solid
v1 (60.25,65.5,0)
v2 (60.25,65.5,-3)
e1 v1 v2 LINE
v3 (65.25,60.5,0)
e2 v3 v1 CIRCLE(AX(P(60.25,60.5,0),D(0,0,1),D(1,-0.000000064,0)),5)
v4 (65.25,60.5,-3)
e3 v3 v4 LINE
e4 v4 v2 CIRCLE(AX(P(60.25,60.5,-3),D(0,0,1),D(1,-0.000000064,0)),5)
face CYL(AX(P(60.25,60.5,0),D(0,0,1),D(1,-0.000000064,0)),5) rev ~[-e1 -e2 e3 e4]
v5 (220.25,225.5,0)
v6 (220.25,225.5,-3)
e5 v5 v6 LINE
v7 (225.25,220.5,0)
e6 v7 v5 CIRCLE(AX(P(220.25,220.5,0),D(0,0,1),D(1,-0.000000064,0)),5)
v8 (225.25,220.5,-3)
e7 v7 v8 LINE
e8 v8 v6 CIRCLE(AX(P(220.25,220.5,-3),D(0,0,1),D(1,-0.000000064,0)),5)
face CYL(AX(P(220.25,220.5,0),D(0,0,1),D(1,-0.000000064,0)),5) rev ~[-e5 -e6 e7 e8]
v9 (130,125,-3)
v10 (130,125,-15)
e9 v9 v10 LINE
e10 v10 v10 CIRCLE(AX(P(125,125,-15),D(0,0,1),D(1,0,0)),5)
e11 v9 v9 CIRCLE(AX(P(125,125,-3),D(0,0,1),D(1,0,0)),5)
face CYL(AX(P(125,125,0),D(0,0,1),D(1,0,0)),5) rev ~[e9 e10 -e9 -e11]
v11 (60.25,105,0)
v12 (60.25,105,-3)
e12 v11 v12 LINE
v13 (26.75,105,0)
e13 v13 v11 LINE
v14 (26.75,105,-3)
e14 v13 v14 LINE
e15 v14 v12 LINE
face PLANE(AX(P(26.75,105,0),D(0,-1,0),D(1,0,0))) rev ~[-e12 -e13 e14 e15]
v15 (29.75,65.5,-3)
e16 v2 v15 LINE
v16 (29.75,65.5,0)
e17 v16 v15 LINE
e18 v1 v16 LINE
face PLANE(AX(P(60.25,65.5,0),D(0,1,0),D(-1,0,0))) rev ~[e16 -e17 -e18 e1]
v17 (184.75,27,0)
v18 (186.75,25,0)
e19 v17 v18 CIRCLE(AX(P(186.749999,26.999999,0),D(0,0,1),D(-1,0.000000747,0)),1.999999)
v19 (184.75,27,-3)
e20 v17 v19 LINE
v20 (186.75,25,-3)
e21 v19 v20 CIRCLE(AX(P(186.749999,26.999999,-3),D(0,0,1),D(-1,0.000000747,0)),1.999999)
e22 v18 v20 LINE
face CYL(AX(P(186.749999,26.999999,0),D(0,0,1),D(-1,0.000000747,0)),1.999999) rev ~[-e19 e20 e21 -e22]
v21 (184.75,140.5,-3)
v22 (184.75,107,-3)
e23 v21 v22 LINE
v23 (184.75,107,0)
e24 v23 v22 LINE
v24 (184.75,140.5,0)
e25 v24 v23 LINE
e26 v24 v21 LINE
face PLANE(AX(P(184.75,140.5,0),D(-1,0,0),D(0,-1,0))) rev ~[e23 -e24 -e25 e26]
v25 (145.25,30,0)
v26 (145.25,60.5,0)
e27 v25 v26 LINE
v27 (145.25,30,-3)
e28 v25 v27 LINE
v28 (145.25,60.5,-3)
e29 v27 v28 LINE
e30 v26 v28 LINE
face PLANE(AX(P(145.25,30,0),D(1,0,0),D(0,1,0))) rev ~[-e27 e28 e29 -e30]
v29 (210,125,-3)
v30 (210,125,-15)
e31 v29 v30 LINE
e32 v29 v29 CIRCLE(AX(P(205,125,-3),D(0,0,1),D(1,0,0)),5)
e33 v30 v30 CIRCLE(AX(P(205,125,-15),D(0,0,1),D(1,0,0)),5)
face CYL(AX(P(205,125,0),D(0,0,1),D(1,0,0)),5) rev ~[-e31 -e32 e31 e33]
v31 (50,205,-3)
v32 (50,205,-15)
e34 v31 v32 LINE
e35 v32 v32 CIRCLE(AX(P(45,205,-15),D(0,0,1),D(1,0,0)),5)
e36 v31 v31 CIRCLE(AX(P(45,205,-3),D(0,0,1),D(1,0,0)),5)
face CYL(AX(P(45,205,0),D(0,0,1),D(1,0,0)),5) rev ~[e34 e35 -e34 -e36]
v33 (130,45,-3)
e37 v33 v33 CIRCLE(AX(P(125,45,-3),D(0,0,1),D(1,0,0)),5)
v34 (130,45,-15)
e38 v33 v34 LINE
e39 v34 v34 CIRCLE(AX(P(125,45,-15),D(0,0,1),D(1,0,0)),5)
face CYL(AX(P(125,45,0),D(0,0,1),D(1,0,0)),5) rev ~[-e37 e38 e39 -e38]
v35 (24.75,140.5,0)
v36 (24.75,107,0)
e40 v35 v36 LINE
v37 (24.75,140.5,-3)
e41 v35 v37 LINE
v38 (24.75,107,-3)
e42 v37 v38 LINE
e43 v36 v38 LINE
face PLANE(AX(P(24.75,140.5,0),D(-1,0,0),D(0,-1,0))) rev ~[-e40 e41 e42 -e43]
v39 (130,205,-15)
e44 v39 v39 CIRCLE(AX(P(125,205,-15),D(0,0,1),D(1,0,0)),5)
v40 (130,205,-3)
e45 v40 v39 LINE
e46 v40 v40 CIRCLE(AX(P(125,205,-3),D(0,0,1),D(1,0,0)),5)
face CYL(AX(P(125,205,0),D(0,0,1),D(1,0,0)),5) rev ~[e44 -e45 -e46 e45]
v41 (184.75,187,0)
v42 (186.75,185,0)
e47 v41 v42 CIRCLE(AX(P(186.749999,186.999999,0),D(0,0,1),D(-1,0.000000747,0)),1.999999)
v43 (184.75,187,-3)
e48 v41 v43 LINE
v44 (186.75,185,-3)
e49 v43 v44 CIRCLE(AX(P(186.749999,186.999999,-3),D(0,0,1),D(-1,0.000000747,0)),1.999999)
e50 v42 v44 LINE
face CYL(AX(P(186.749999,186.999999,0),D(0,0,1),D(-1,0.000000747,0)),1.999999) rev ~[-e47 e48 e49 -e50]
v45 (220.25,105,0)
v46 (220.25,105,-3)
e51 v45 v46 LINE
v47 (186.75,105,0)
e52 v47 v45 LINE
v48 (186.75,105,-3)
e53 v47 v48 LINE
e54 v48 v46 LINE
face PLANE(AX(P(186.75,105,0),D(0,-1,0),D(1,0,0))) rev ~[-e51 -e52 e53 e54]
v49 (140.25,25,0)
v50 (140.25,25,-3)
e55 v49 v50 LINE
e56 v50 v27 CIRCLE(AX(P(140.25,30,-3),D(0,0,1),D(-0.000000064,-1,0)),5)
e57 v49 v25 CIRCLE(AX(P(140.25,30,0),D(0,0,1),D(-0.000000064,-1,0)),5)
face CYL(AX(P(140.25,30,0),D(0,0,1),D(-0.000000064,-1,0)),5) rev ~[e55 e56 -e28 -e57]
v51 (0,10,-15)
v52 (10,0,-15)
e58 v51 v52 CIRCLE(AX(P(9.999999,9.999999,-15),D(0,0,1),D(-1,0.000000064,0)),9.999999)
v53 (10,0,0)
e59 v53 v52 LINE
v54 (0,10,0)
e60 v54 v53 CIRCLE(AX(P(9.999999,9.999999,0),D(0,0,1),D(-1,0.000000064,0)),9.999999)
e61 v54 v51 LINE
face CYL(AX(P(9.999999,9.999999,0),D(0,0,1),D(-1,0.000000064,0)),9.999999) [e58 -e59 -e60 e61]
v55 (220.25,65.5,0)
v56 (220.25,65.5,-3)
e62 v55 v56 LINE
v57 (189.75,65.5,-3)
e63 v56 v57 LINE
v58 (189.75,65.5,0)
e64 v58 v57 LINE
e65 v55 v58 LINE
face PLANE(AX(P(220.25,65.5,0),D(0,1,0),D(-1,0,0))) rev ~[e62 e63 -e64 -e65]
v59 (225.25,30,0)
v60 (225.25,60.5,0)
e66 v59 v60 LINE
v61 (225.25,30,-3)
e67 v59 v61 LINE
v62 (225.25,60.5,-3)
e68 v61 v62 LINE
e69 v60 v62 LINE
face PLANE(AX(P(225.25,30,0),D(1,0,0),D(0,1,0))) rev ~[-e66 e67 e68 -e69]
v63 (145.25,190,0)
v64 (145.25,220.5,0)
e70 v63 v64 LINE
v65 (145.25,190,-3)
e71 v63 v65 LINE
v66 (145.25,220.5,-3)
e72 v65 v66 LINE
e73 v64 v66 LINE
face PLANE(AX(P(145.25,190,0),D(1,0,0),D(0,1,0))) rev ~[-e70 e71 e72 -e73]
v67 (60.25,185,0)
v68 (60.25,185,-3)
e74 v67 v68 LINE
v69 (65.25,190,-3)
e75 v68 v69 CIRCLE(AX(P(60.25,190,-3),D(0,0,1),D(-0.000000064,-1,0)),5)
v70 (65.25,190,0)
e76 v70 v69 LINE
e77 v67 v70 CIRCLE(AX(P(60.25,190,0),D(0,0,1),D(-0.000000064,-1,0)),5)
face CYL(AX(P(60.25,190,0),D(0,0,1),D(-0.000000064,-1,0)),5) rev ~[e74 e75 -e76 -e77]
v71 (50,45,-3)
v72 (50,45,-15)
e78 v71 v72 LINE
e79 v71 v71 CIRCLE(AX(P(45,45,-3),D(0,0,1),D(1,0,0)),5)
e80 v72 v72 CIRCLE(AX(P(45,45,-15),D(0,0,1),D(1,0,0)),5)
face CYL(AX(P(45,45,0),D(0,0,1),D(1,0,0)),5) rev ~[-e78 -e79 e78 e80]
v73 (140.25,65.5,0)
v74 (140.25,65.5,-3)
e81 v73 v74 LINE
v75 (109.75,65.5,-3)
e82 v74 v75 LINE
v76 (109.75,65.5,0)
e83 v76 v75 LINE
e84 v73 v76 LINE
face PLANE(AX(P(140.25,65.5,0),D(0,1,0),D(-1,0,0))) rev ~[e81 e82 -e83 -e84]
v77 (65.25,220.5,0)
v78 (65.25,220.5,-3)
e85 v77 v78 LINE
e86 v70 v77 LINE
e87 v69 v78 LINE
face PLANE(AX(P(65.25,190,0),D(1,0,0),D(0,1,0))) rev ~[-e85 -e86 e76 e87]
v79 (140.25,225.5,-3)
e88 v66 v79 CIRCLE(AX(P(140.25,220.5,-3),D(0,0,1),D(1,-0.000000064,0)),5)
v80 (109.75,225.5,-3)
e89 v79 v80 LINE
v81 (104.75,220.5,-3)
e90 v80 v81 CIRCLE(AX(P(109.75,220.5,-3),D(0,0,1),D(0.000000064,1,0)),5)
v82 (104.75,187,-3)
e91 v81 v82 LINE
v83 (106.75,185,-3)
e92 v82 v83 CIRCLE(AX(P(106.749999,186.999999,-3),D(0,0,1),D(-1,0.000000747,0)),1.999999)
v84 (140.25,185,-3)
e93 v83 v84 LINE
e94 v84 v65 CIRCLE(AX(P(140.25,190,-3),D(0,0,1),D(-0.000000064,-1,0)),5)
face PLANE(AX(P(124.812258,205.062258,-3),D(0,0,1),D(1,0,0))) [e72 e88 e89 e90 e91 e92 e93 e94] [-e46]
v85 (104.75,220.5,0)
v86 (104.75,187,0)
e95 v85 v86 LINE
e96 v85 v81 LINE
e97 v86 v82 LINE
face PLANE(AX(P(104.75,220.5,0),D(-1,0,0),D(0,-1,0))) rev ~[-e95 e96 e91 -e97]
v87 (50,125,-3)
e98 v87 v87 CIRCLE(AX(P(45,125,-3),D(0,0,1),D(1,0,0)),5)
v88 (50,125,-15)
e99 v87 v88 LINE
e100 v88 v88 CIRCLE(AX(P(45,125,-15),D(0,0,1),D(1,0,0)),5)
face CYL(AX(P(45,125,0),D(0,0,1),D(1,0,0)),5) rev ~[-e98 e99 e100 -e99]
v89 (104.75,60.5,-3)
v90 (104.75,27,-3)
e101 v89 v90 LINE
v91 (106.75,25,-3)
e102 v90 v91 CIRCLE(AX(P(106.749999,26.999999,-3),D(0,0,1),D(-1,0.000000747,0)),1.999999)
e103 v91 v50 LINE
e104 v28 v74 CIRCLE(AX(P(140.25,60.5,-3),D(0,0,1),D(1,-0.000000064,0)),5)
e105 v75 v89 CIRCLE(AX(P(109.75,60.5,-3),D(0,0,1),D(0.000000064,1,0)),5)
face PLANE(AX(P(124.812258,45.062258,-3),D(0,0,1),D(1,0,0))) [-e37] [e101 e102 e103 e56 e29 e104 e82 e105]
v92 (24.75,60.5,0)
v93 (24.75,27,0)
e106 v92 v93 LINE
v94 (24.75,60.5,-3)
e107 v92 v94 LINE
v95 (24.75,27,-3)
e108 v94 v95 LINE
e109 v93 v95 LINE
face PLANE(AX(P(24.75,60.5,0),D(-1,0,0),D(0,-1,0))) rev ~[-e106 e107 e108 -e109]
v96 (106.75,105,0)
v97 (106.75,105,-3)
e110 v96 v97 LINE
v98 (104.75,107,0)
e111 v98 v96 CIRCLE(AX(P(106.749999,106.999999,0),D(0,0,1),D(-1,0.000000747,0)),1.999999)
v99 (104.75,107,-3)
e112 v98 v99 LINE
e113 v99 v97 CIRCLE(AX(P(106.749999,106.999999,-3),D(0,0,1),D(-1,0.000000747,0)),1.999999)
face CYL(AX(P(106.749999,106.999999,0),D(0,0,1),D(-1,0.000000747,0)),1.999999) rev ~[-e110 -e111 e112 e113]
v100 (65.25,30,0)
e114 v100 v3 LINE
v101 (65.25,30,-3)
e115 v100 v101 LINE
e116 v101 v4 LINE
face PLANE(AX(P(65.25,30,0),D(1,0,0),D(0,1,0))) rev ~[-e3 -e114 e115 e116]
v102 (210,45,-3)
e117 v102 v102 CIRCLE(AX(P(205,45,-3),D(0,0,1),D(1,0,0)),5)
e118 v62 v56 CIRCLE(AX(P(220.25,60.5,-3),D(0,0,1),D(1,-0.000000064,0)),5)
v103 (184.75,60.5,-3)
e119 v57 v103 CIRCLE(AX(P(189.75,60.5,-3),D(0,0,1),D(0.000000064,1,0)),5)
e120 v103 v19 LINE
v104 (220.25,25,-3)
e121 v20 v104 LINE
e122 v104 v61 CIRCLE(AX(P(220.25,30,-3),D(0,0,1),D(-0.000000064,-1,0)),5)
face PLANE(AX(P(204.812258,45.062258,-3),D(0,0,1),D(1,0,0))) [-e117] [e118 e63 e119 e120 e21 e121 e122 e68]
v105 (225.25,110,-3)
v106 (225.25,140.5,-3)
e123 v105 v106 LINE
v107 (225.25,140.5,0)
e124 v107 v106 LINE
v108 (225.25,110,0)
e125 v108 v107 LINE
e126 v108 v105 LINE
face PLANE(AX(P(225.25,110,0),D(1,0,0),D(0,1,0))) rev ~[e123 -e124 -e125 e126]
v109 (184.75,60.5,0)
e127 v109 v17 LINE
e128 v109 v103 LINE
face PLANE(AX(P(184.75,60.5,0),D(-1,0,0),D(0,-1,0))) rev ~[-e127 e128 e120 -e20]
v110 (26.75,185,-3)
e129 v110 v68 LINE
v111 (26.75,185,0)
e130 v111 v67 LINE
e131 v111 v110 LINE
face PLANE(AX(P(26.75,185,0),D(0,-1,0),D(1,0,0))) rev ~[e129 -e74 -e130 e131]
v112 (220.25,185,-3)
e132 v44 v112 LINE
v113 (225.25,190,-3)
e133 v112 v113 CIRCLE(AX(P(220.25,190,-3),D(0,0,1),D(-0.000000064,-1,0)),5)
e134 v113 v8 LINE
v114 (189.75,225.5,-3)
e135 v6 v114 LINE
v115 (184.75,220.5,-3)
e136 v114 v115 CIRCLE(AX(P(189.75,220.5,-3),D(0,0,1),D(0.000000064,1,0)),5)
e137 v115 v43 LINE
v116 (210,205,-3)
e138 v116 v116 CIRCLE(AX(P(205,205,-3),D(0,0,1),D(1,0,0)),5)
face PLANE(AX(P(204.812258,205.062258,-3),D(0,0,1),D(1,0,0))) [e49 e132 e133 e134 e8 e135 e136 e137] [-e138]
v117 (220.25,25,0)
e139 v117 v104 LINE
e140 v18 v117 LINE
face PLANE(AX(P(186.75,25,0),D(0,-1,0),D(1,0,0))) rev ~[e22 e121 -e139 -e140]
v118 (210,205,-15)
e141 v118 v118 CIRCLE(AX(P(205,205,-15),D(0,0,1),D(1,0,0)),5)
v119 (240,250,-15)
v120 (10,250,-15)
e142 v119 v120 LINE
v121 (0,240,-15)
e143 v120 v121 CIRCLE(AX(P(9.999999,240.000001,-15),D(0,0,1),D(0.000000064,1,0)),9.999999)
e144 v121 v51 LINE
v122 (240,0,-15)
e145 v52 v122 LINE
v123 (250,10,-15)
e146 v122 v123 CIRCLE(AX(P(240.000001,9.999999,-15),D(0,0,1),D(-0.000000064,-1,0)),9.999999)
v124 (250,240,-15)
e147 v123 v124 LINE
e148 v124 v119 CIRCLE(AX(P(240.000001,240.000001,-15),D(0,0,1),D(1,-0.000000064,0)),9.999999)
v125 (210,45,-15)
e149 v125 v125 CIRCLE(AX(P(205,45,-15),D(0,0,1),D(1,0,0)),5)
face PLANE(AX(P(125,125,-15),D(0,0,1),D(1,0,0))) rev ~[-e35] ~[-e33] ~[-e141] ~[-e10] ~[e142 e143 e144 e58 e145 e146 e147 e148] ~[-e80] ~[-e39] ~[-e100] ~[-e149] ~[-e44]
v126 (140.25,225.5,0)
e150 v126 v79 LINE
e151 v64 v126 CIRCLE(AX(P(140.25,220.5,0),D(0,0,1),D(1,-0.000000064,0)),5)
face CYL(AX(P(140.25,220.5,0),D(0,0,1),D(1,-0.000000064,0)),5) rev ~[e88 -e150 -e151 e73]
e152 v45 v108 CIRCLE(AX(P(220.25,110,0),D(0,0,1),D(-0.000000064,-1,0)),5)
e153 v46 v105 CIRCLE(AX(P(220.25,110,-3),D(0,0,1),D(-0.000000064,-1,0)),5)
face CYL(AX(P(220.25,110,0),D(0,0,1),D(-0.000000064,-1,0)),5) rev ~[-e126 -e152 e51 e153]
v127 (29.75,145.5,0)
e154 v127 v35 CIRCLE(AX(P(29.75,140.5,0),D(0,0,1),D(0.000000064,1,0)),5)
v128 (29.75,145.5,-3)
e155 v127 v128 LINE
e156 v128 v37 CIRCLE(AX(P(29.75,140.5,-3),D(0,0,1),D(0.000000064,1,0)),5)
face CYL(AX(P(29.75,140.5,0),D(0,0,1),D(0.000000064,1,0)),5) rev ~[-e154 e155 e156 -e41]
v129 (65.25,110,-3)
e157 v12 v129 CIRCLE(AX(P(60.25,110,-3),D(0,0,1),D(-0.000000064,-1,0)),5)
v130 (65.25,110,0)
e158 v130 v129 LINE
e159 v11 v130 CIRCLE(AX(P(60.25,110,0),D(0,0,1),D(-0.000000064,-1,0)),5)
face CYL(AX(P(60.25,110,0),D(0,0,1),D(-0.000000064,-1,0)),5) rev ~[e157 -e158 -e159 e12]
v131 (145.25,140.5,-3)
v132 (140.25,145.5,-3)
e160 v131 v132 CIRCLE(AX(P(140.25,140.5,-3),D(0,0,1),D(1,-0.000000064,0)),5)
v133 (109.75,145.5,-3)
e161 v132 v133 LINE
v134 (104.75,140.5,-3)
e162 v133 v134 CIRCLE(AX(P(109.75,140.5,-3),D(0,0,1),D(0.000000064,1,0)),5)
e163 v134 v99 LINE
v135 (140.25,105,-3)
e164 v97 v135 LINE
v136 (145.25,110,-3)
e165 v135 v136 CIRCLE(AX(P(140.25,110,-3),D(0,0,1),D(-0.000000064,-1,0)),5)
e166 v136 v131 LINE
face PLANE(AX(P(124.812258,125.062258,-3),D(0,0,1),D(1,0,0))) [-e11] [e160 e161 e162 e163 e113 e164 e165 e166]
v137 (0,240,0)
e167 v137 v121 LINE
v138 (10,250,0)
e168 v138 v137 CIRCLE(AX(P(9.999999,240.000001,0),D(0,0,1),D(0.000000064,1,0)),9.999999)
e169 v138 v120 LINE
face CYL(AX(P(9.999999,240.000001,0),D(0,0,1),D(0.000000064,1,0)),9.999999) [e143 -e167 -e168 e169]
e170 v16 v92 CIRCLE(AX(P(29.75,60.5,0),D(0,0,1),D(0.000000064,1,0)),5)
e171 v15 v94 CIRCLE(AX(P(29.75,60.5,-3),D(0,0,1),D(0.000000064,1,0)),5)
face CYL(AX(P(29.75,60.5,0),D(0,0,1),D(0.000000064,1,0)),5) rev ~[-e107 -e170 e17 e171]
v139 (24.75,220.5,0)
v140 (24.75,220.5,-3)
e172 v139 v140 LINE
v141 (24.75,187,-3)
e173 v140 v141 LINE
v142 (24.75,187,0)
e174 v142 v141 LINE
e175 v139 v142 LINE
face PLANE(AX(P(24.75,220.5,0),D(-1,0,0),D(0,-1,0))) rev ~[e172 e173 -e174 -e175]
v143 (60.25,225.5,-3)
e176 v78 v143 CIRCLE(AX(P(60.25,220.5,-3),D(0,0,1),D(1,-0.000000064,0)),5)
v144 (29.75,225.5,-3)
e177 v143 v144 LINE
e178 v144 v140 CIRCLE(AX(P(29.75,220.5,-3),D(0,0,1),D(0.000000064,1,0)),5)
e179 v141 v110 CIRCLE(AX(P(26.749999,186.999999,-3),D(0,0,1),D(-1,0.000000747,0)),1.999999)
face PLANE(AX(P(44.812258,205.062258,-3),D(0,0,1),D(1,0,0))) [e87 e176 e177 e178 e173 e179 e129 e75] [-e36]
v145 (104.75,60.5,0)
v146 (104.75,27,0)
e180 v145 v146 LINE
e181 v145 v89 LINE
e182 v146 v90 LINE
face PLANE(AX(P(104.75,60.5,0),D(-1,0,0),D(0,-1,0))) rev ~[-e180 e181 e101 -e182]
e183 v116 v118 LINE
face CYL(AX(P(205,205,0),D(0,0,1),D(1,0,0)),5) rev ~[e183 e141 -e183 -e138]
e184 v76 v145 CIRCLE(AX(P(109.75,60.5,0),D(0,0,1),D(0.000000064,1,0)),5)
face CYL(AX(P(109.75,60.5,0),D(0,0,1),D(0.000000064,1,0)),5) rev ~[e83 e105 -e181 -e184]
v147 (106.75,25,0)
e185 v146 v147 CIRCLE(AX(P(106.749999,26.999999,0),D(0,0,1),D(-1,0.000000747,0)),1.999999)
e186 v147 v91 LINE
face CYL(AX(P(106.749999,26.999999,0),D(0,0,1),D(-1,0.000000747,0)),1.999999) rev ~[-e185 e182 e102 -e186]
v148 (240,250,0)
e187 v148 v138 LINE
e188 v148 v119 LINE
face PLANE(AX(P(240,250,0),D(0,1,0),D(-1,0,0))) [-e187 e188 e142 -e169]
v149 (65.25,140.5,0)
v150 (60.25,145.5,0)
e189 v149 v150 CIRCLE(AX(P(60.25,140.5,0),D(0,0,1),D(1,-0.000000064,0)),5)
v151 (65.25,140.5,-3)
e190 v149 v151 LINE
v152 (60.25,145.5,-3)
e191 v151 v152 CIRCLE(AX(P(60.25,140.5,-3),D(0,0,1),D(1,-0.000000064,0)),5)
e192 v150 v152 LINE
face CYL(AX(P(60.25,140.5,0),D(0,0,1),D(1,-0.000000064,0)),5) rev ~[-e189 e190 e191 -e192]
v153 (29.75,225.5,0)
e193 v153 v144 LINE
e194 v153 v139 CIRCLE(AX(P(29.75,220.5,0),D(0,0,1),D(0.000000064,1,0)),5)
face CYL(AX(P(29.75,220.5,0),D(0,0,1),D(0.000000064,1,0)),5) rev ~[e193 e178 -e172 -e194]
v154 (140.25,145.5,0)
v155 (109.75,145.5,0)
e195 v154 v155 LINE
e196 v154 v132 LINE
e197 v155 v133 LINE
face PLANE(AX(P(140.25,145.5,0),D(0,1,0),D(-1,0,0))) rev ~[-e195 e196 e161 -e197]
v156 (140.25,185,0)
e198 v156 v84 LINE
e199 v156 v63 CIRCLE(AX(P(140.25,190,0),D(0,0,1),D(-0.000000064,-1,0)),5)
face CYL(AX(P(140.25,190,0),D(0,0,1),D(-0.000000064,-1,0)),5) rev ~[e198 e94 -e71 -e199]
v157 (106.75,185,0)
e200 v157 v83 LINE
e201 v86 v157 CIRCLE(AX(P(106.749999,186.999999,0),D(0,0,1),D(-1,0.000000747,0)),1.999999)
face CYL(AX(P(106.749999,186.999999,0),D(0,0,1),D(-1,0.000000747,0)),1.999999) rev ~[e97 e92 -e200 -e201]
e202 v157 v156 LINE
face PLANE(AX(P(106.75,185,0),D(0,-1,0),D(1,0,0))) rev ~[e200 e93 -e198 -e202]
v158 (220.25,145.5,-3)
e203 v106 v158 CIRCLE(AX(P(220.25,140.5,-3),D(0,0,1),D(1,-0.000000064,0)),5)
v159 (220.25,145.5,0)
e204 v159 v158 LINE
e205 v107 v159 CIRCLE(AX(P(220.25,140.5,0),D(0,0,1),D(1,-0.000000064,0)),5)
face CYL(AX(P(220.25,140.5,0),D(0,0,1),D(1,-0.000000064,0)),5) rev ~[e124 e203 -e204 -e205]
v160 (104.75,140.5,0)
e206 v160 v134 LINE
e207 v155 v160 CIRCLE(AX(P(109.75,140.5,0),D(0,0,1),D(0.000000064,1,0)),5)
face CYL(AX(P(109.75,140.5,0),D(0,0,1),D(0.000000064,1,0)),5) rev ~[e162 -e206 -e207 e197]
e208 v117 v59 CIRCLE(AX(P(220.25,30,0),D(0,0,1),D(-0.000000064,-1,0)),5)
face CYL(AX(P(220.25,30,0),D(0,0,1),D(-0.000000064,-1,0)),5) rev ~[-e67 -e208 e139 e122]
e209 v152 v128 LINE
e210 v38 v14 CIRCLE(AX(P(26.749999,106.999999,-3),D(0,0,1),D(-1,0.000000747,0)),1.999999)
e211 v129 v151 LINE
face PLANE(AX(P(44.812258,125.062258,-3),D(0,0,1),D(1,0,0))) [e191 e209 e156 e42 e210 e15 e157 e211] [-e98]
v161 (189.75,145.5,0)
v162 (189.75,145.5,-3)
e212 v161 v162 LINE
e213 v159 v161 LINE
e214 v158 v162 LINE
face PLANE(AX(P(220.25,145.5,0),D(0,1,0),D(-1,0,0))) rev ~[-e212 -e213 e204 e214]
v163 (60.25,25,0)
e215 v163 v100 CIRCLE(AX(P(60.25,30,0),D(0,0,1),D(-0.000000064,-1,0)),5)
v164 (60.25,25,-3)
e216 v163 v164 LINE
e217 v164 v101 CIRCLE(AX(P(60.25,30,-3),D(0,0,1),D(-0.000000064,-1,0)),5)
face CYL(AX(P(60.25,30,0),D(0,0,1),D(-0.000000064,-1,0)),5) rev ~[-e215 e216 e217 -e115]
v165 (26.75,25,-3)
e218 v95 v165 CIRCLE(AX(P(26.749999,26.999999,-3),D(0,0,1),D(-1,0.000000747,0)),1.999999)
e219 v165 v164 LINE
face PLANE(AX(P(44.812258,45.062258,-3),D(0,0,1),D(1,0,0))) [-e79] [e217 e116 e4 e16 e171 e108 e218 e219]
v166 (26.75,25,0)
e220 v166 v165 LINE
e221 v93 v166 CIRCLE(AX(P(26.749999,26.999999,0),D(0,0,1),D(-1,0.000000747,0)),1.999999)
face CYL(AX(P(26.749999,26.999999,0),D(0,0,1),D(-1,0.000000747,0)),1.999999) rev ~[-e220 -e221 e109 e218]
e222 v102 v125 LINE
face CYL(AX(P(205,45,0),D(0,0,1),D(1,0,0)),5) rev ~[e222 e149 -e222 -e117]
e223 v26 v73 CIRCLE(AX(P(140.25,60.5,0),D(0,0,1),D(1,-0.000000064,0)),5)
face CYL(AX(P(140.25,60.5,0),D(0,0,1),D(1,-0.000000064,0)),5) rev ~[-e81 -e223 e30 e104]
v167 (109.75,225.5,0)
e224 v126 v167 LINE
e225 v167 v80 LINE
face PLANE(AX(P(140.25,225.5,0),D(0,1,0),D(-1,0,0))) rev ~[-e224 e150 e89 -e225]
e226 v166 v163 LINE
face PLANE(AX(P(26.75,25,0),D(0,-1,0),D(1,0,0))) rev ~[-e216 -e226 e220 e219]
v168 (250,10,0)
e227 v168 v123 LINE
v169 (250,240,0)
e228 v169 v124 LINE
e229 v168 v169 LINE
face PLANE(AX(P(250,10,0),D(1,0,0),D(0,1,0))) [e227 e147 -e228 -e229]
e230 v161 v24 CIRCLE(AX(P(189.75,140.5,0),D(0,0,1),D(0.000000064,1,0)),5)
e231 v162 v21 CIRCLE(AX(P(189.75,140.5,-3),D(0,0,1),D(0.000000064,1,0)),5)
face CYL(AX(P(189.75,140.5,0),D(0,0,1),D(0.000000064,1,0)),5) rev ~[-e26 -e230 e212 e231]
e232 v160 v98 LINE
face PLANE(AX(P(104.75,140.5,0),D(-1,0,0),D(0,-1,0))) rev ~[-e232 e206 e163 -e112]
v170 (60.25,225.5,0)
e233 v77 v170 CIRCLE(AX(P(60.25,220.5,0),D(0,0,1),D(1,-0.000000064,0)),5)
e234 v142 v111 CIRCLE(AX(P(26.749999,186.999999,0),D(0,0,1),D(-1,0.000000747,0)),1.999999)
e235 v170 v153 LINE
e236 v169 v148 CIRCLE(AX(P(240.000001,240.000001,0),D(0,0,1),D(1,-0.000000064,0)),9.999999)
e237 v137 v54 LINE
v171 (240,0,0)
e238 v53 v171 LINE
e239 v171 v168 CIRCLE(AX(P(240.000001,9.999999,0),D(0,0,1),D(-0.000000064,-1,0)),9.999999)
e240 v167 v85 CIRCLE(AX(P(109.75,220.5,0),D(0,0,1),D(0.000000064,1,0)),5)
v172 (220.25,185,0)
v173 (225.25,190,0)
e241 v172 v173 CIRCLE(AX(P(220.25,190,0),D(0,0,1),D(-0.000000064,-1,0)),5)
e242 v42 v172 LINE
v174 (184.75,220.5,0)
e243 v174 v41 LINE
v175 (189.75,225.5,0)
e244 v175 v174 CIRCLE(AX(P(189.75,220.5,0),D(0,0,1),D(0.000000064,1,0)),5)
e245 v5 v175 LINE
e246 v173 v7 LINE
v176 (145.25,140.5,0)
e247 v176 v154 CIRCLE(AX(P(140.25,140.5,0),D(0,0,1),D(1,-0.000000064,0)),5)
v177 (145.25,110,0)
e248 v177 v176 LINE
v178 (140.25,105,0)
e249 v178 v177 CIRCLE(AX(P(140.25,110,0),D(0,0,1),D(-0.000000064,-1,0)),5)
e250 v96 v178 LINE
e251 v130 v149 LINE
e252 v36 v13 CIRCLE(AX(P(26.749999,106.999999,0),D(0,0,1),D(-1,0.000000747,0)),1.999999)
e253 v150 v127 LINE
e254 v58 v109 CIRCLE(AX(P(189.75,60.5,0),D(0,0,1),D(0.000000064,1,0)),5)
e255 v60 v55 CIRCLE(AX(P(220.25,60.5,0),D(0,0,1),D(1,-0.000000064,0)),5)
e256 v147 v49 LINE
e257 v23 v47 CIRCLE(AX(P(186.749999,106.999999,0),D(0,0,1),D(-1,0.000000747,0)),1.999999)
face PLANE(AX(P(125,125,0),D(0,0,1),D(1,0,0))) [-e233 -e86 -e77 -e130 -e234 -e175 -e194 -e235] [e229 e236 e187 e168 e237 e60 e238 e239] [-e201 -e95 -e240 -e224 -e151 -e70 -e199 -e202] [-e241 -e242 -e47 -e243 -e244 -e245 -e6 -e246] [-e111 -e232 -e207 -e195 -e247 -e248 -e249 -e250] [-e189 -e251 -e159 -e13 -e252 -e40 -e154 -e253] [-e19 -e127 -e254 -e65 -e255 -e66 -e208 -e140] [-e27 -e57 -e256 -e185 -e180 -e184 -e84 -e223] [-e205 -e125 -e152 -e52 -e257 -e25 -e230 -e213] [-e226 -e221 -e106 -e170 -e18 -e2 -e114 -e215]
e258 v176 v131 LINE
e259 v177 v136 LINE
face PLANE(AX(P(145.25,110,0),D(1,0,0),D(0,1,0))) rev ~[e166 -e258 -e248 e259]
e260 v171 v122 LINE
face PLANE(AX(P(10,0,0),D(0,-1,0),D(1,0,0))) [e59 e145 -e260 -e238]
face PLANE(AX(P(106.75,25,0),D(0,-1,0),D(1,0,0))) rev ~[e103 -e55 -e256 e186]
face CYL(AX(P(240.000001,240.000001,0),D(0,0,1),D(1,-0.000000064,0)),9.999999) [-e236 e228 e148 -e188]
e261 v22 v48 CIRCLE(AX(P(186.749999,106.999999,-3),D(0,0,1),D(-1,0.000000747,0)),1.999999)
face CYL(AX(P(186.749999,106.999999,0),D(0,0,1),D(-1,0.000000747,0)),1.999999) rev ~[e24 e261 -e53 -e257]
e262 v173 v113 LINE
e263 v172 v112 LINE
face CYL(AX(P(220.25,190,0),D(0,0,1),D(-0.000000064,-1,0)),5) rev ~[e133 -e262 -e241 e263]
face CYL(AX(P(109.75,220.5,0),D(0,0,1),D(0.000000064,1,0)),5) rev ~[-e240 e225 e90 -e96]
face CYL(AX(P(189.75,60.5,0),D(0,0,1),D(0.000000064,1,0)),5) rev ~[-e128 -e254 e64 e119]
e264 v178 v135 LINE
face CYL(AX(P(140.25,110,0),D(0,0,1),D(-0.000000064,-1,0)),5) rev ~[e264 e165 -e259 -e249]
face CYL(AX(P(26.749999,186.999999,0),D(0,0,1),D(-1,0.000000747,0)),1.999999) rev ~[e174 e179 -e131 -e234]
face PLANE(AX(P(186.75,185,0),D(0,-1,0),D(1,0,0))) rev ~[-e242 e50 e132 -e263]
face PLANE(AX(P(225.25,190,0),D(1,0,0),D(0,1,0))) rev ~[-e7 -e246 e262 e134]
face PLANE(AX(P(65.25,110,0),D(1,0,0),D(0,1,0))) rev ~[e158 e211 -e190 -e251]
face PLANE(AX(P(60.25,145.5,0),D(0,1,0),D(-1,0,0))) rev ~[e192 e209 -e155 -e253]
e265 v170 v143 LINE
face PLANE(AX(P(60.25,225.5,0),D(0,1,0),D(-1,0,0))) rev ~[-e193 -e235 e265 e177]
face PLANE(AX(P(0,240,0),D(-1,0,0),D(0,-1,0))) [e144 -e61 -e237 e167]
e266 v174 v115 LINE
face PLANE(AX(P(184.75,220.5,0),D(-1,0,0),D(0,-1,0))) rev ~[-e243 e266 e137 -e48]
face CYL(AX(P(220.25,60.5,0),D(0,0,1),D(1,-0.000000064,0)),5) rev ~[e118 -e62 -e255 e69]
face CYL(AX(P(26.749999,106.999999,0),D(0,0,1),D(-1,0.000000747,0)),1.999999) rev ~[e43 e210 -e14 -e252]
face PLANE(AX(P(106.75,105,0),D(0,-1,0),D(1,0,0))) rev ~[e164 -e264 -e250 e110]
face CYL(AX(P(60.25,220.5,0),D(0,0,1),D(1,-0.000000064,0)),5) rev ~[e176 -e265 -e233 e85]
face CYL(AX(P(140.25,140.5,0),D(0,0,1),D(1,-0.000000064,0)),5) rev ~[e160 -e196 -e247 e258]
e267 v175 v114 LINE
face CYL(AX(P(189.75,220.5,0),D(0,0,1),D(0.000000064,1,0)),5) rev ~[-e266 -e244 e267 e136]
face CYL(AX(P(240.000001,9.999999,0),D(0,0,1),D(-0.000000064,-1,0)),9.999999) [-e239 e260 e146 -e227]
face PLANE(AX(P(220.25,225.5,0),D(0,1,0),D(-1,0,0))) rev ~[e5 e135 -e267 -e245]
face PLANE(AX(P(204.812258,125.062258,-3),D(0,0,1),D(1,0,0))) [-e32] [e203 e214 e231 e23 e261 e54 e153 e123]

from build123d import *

# Parameters (mm, degrees)
F0_R     = 5
F1_DEPTH = 15
F2_DEPTH = 3


with BuildPart() as f1:
    # F0 (on Top) → F1 (new body)
    with BuildSketch(Plane.XY):
        with BuildLine():
            ThreePointArc((0, 10), (2.928932, 2.928932), (10, 0))
            Line((10, 0), (240, 0))
            ThreePointArc((240, 0), (247.071068, 2.928932), (250, 10))
            Line((250, 10), (250, 240))
            ThreePointArc((250, 240), (247.071068, 247.071068), (240, 250))
            Line((240, 250), (10, 250))
            ThreePointArc((10, 250), (2.928932, 247.071068), (0, 240))
            Line((0, 240), (0, 10))
        make_face()
        with BuildLine():
            ThreePointArc((24.75, 60.5), (26.214466, 64.035534), (29.75, 65.5))
            Line((29.75, 65.5), (60.25, 65.5))
            ThreePointArc((60.25, 65.5), (63.785534, 64.035534), (65.25, 60.5))
            Line((65.25, 60.5), (65.25, 30))
            ThreePointArc((65.25, 30), (63.785534, 26.464466), (60.25, 25))
            Line((60.25, 25), (26.75, 25))
            ThreePointArc((26.75, 25), (25.335786, 25.585786), (24.75, 27))
            Line((24.75, 27), (24.75, 60.5))
        make_face(mode=Mode.SUBTRACT)
        with BuildLine():
            ThreePointArc((104.75, 60.5), (106.214466, 64.035534), (109.75, 65.5))
            Line((109.75, 65.5), (140.25, 65.5))
            ThreePointArc((140.25, 65.5), (143.785534, 64.035534), (145.25, 60.5))
            Line((145.25, 60.5), (145.25, 30))
            ThreePointArc((145.25, 30), (143.785534, 26.464466), (140.25, 25))
            Line((140.25, 25), (106.75, 25))
            ThreePointArc((106.75, 25), (105.335786, 25.585786), (104.75, 27))
            Line((104.75, 27), (104.75, 60.5))
        make_face(mode=Mode.SUBTRACT)
        with BuildLine():
            Line((220.25, 25), (186.75, 25))
            ThreePointArc((186.75, 25), (185.335786, 25.585786), (184.75, 27))
            Line((184.75, 27), (184.75, 60.5))
            ThreePointArc((184.75, 60.5), (186.214466, 64.035534), (189.75, 65.5))
            Line((189.75, 65.5), (220.25, 65.5))
            ThreePointArc((220.25, 65.5), (223.785534, 64.035534), (225.25, 60.5))
            Line((225.25, 60.5), (225.25, 30))
            ThreePointArc((225.25, 30), (223.785534, 26.464466), (220.25, 25))
        make_face(mode=Mode.SUBTRACT)
        with BuildLine():
            ThreePointArc((24.75, 140.5), (26.214466, 144.035534), (29.75, 145.5))
            Line((29.75, 145.5), (60.25, 145.5))
            ThreePointArc((60.25, 145.5), (63.785534, 144.035534), (65.25, 140.5))
            Line((65.25, 140.5), (65.25, 110))
            ThreePointArc((65.25, 110), (63.785534, 106.464466), (60.25, 105))
            Line((60.25, 105), (26.75, 105))
            ThreePointArc((26.75, 105), (25.335786, 105.585786), (24.75, 107))
            Line((24.75, 107), (24.75, 140.5))
        make_face(mode=Mode.SUBTRACT)
        with BuildLine():
            ThreePointArc((24.75, 220.5), (26.214466, 224.035534), (29.75, 225.5))
            Line((29.75, 225.5), (60.25, 225.5))
            ThreePointArc((60.25, 225.5), (63.785534, 224.035534), (65.25, 220.5))
            Line((65.25, 220.5), (65.25, 190))
            ThreePointArc((65.25, 190), (63.785534, 186.464466), (60.25, 185))
            Line((60.25, 185), (26.75, 185))
            ThreePointArc((26.75, 185), (25.335786, 185.585786), (24.75, 187))
            Line((24.75, 187), (24.75, 220.5))
        make_face(mode=Mode.SUBTRACT)
        with BuildLine():
            ThreePointArc((104.75, 140.5), (106.214466, 144.035534), (109.75, 145.5))
            Line((109.75, 145.5), (140.25, 145.5))
            ThreePointArc((140.25, 145.5), (143.785534, 144.035534), (145.25, 140.5))
            Line((145.25, 140.5), (145.25, 110))
            ThreePointArc((145.25, 110), (143.785534, 106.464466), (140.25, 105))
            Line((140.25, 105), (106.75, 105))
            ThreePointArc((106.75, 105), (105.335786, 105.585786), (104.75, 107))
            Line((104.75, 107), (104.75, 140.5))
        make_face(mode=Mode.SUBTRACT)
        with BuildLine():
            ThreePointArc((184.75, 140.5), (186.214466, 144.035534), (189.75, 145.5))
            Line((189.75, 145.5), (220.25, 145.5))
            ThreePointArc((220.25, 145.5), (223.785534, 144.035534), (225.25, 140.5))
            Line((225.25, 140.5), (225.25, 110))
            ThreePointArc((225.25, 110), (223.785534, 106.464466), (220.25, 105))
            Line((220.25, 105), (186.75, 105))
            ThreePointArc((186.75, 105), (185.335786, 105.585786), (184.75, 107))
            Line((184.75, 107), (184.75, 140.5))
        make_face(mode=Mode.SUBTRACT)
        with BuildLine():
            ThreePointArc((104.75, 220.5), (106.214466, 224.035534), (109.75, 225.5))
            Line((109.75, 225.5), (140.25, 225.5))
            ThreePointArc((140.25, 225.5), (143.785534, 224.035534), (145.25, 220.5))
            Line((145.25, 220.5), (145.25, 190))
            ThreePointArc((145.25, 190), (143.785534, 186.464466), (140.25, 185))
            Line((140.25, 185), (106.75, 185))
            ThreePointArc((106.75, 185), (105.335786, 185.585786), (104.75, 187))
            Line((104.75, 187), (104.75, 220.5))
        make_face(mode=Mode.SUBTRACT)
        with BuildLine():
            ThreePointArc((184.75, 220.5), (186.214466, 224.035534), (189.75, 225.5))
            Line((189.75, 225.5), (220.25, 225.5))
            ThreePointArc((220.25, 225.5), (223.785534, 224.035534), (225.25, 220.5))
            Line((225.25, 220.5), (225.25, 190))
            ThreePointArc((225.25, 190), (223.785534, 186.464466), (220.25, 185))
            Line((220.25, 185), (186.75, 185))
            ThreePointArc((186.75, 185), (185.335786, 185.585786), (184.75, 187))
            Line((184.75, 187), (184.75, 220.5))
        make_face(mode=Mode.SUBTRACT)
        with BuildLine():
            Line((140.25, 225.5), (109.75, 225.5))
            ThreePointArc((109.75, 225.5), (106.214466, 224.035534), (104.75, 220.5))
            Line((104.75, 220.5), (104.75, 187))
            ThreePointArc((104.75, 187), (105.335786, 185.585786), (106.75, 185))
            Line((106.75, 185), (140.25, 185))
            ThreePointArc((140.25, 185), (143.785534, 186.464466), (145.25, 190))
            Line((145.25, 190), (145.25, 220.5))
            ThreePointArc((145.25, 220.5), (143.785534, 224.035534), (140.25, 225.5))
        make_face()
        with Locations((125, 205)):
            Circle(F0_R, mode=Mode.SUBTRACT)
        with BuildLine():
            Line((60.25, 225.5), (29.75, 225.5))
            ThreePointArc((29.75, 225.5), (26.214466, 224.035534), (24.75, 220.5))
            Line((24.75, 220.5), (24.75, 187))
            ThreePointArc((24.75, 187), (25.335786, 185.585786), (26.75, 185))
            Line((26.75, 185), (60.25, 185))
            ThreePointArc((60.25, 185), (63.785534, 186.464466), (65.25, 190))
            Line((65.25, 190), (65.25, 220.5))
            ThreePointArc((65.25, 220.5), (63.785534, 224.035534), (60.25, 225.5))
        make_face()
        with Locations((45, 205)):
            Circle(F0_R, mode=Mode.SUBTRACT)
        with BuildLine():
            Line((220.25, 225.5), (189.75, 225.5))
            ThreePointArc((189.75, 225.5), (186.214466, 224.035534), (184.75, 220.5))
            Line((184.75, 220.5), (184.75, 187))
            ThreePointArc((184.75, 187), (185.335786, 185.585786), (186.75, 185))
            Line((186.75, 185), (220.25, 185))
            ThreePointArc((220.25, 185), (223.785534, 186.464466), (225.25, 190))
            Line((225.25, 190), (225.25, 220.5))
            ThreePointArc((225.25, 220.5), (223.785534, 224.035534), (220.25, 225.5))
        make_face()
        with Locations((205, 205)):
            Circle(F0_R, mode=Mode.SUBTRACT)
        with BuildLine():
            Line((220.25, 145.5), (189.75, 145.5))
            ThreePointArc((189.75, 145.5), (186.214466, 144.035534), (184.75, 140.5))
            Line((184.75, 140.5), (184.75, 107))
            ThreePointArc((184.75, 107), (185.335786, 105.585786), (186.75, 105))
            Line((186.75, 105), (220.25, 105))
            ThreePointArc((220.25, 105), (223.785534, 106.464466), (225.25, 110))
            Line((225.25, 110), (225.25, 140.5))
            ThreePointArc((225.25, 140.5), (223.785534, 144.035534), (220.25, 145.5))
        make_face()
        with Locations((205, 125)):
            Circle(F0_R, mode=Mode.SUBTRACT)
        with BuildLine():
            Line((140.25, 145.5), (109.75, 145.5))
            ThreePointArc((109.75, 145.5), (106.214466, 144.035534), (104.75, 140.5))
            Line((104.75, 140.5), (104.75, 107))
            ThreePointArc((104.75, 107), (105.335786, 105.585786), (106.75, 105))
            Line((106.75, 105), (140.25, 105))
            ThreePointArc((140.25, 105), (143.785534, 106.464466), (145.25, 110))
            Line((145.25, 110), (145.25, 140.5))
            ThreePointArc((145.25, 140.5), (143.785534, 144.035534), (140.25, 145.5))
        make_face()
        with Locations((125, 125)):
            Circle(F0_R, mode=Mode.SUBTRACT)
        with BuildLine():
            Line((60.25, 145.5), (29.75, 145.5))
            ThreePointArc((29.75, 145.5), (26.214466, 144.035534), (24.75, 140.5))
            Line((24.75, 140.5), (24.75, 107))
            ThreePointArc((24.75, 107), (25.335786, 105.585786), (26.75, 105))
            Line((26.75, 105), (60.25, 105))
            ThreePointArc((60.25, 105), (63.785534, 106.464466), (65.25, 110))
            Line((65.25, 110), (65.25, 140.5))
            ThreePointArc((65.25, 140.5), (63.785534, 144.035534), (60.25, 145.5))
        make_face()
        with Locations((45, 125)):
            Circle(F0_R, mode=Mode.SUBTRACT)
        with BuildLine():
            Line((60.25, 65.5), (29.75, 65.5))
            ThreePointArc((29.75, 65.5), (26.214466, 64.035534), (24.75, 60.5))
            Line((24.75, 60.5), (24.75, 27))
            ThreePointArc((24.75, 27), (25.335786, 25.585786), (26.75, 25))
            Line((26.75, 25), (60.25, 25))
            ThreePointArc((60.25, 25), (63.785534, 26.464466), (65.25, 30))
            Line((65.25, 30), (65.25, 60.5))
            ThreePointArc((65.25, 60.5), (63.785534, 64.035534), (60.25, 65.5))
        make_face()
        with Locations((45, 45)):
            Circle(F0_R, mode=Mode.SUBTRACT)
        with BuildLine():
            Line((140.25, 65.5), (109.75, 65.5))
            ThreePointArc((109.75, 65.5), (106.214466, 64.035534), (104.75, 60.5))
            Line((104.75, 60.5), (104.75, 27))
            ThreePointArc((104.75, 27), (105.335786, 25.585786), (106.75, 25))
            Line((106.75, 25), (140.25, 25))
            ThreePointArc((140.25, 25), (143.785534, 26.464466), (145.25, 30))
            Line((145.25, 30), (145.25, 60.5))
            ThreePointArc((145.25, 60.5), (143.785534, 64.035534), (140.25, 65.5))
        make_face()
        with Locations((125, 45)):
            Circle(F0_R, mode=Mode.SUBTRACT)
        with BuildLine():
            ThreePointArc((184.75, 27), (185.335786, 25.585786), (186.75, 25))
            Line((186.75, 25), (220.25, 25))
            ThreePointArc((220.25, 25), (223.785534, 26.464466), (225.25, 30))
            Line((225.25, 30), (225.25, 60.5))
            ThreePointArc((225.25, 60.5), (223.785534, 64.035534), (220.25, 65.5))
            Line((220.25, 65.5), (189.75, 65.5))
            ThreePointArc((189.75, 65.5), (186.214466, 64.035534), (184.75, 60.5))
            Line((184.75, 60.5), (184.75, 27))
        make_face()
        with Locations((205, 45)):
            Circle(F0_R, mode=Mode.SUBTRACT)
    extrude(amount=-F1_DEPTH)

    # F0 (on Top) → F2 (cut)
    with BuildSketch(Plane.XY):
        with BuildLine():
            Line((60.25, 225.5), (29.75, 225.5))
            ThreePointArc((29.75, 225.5), (26.214466, 224.035534), (24.75, 220.5))
            Line((24.75, 220.5), (24.75, 187))
            ThreePointArc((24.75, 187), (25.335786, 185.585786), (26.75, 185))
            Line((26.75, 185), (60.25, 185))
            ThreePointArc((60.25, 185), (63.785534, 186.464466), (65.25, 190))
            Line((65.25, 190), (65.25, 220.5))
            ThreePointArc((65.25, 220.5), (63.785534, 224.035534), (60.25, 225.5))
        make_face()
        with Locations((45, 205)):
            Circle(F0_R, mode=Mode.SUBTRACT)
        with BuildLine():
            Line((60.25, 145.5), (29.75, 145.5))
            ThreePointArc((29.75, 145.5), (26.214466, 144.035534), (24.75, 140.5))
            Line((24.75, 140.5), (24.75, 107))
            ThreePointArc((24.75, 107), (25.335786, 105.585786), (26.75, 105))
            Line((26.75, 105), (60.25, 105))
            ThreePointArc((60.25, 105), (63.785534, 106.464466), (65.25, 110))
            Line((65.25, 110), (65.25, 140.5))
            ThreePointArc((65.25, 140.5), (63.785534, 144.035534), (60.25, 145.5))
        make_face()
        with Locations((45, 125)):
            Circle(F0_R, mode=Mode.SUBTRACT)
        with BuildLine():
            Line((60.25, 65.5), (29.75, 65.5))
            ThreePointArc((29.75, 65.5), (26.214466, 64.035534), (24.75, 60.5))
            Line((24.75, 60.5), (24.75, 27))
            ThreePointArc((24.75, 27), (25.335786, 25.585786), (26.75, 25))
            Line((26.75, 25), (60.25, 25))
            ThreePointArc((60.25, 25), (63.785534, 26.464466), (65.25, 30))
            Line((65.25, 30), (65.25, 60.5))
            ThreePointArc((65.25, 60.5), (63.785534, 64.035534), (60.25, 65.5))
        make_face()
        with Locations((45, 45)):
            Circle(F0_R, mode=Mode.SUBTRACT)
        with BuildLine():
            Line((140.25, 65.5), (109.75, 65.5))
            ThreePointArc((109.75, 65.5), (106.214466, 64.035534), (104.75, 60.5))
            Line((104.75, 60.5), (104.75, 27))
            ThreePointArc((104.75, 27), (105.335786, 25.585786), (106.75, 25))
            Line((106.75, 25), (140.25, 25))
            ThreePointArc((140.25, 25), (143.785534, 26.464466), (145.25, 30))
            Line((145.25, 30), (145.25, 60.5))
            ThreePointArc((145.25, 60.5), (143.785534, 64.035534), (140.25, 65.5))
        make_face()
        with Locations((125, 45)):
            Circle(F0_R, mode=Mode.SUBTRACT)
        with BuildLine():
            Line((140.25, 145.5), (109.75, 145.5))
            ThreePointArc((109.75, 145.5), (106.214466, 144.035534), (104.75, 140.5))
            Line((104.75, 140.5), (104.75, 107))
            ThreePointArc((104.75, 107), (105.335786, 105.585786), (106.75, 105))
            Line((106.75, 105), (140.25, 105))
            ThreePointArc((140.25, 105), (143.785534, 106.464466), (145.25, 110))
            Line((145.25, 110), (145.25, 140.5))
            ThreePointArc((145.25, 140.5), (143.785534, 144.035534), (140.25, 145.5))
        make_face()
        with Locations((125, 125)):
            Circle(F0_R, mode=Mode.SUBTRACT)
        with BuildLine():
            Line((140.25, 225.5), (109.75, 225.5))
            ThreePointArc((109.75, 225.5), (106.214466, 224.035534), (104.75, 220.5))
            Line((104.75, 220.5), (104.75, 187))
            ThreePointArc((104.75, 187), (105.335786, 185.585786), (106.75, 185))
            Line((106.75, 185), (140.25, 185))
            ThreePointArc((140.25, 185), (143.785534, 186.464466), (145.25, 190))
            Line((145.25, 190), (145.25, 220.5))
            ThreePointArc((145.25, 220.5), (143.785534, 224.035534), (140.25, 225.5))
        make_face()
        with Locations((125, 205)):
            Circle(F0_R, mode=Mode.SUBTRACT)
        with BuildLine():
            Line((220.25, 225.5), (189.75, 225.5))
            ThreePointArc((189.75, 225.5), (186.214466, 224.035534), (184.75, 220.5))
            Line((184.75, 220.5), (184.75, 187))
            ThreePointArc((184.75, 187), (185.335786, 185.585786), (186.75, 185))
            Line((186.75, 185), (220.25, 185))
            ThreePointArc((220.25, 185), (223.785534, 186.464466), (225.25, 190))
            Line((225.25, 190), (225.25, 220.5))
            ThreePointArc((225.25, 220.5), (223.785534, 224.035534), (220.25, 225.5))
        make_face()
        with Locations((205, 205)):
            Circle(F0_R, mode=Mode.SUBTRACT)
        with BuildLine():
            Line((220.25, 145.5), (189.75, 145.5))
            ThreePointArc((189.75, 145.5), (186.214466, 144.035534), (184.75, 140.5))
            Line((184.75, 140.5), (184.75, 107))
            ThreePointArc((184.75, 107), (185.335786, 105.585786), (186.75, 105))
            Line((186.75, 105), (220.25, 105))
            ThreePointArc((220.25, 105), (223.785534, 106.464466), (225.25, 110))
            Line((225.25, 110), (225.25, 140.5))
            ThreePointArc((225.25, 140.5), (223.785534, 144.035534), (220.25, 145.5))
        make_face()
        with Locations((205, 125)):
            Circle(F0_R, mode=Mode.SUBTRACT)
        with BuildLine():
            ThreePointArc((184.75, 27), (185.335786, 25.585786), (186.75, 25))
            Line((186.75, 25), (220.25, 25))
            ThreePointArc((220.25, 25), (223.785534, 26.464466), (225.25, 30))
            Line((225.25, 30), (225.25, 60.5))
            ThreePointArc((225.25, 60.5), (223.785534, 64.035534), (220.25, 65.5))
            Line((220.25, 65.5), (189.75, 65.5))
            ThreePointArc((189.75, 65.5), (186.214466, 64.035534), (184.75, 60.5))
            Line((184.75, 60.5), (184.75, 27))
        make_face()
        with Locations((205, 45)):
            Circle(F0_R, mode=Mode.SUBTRACT)
    extrude(amount=-F2_DEPTH, mode=Mode.SUBTRACT)


solid = f1.part
